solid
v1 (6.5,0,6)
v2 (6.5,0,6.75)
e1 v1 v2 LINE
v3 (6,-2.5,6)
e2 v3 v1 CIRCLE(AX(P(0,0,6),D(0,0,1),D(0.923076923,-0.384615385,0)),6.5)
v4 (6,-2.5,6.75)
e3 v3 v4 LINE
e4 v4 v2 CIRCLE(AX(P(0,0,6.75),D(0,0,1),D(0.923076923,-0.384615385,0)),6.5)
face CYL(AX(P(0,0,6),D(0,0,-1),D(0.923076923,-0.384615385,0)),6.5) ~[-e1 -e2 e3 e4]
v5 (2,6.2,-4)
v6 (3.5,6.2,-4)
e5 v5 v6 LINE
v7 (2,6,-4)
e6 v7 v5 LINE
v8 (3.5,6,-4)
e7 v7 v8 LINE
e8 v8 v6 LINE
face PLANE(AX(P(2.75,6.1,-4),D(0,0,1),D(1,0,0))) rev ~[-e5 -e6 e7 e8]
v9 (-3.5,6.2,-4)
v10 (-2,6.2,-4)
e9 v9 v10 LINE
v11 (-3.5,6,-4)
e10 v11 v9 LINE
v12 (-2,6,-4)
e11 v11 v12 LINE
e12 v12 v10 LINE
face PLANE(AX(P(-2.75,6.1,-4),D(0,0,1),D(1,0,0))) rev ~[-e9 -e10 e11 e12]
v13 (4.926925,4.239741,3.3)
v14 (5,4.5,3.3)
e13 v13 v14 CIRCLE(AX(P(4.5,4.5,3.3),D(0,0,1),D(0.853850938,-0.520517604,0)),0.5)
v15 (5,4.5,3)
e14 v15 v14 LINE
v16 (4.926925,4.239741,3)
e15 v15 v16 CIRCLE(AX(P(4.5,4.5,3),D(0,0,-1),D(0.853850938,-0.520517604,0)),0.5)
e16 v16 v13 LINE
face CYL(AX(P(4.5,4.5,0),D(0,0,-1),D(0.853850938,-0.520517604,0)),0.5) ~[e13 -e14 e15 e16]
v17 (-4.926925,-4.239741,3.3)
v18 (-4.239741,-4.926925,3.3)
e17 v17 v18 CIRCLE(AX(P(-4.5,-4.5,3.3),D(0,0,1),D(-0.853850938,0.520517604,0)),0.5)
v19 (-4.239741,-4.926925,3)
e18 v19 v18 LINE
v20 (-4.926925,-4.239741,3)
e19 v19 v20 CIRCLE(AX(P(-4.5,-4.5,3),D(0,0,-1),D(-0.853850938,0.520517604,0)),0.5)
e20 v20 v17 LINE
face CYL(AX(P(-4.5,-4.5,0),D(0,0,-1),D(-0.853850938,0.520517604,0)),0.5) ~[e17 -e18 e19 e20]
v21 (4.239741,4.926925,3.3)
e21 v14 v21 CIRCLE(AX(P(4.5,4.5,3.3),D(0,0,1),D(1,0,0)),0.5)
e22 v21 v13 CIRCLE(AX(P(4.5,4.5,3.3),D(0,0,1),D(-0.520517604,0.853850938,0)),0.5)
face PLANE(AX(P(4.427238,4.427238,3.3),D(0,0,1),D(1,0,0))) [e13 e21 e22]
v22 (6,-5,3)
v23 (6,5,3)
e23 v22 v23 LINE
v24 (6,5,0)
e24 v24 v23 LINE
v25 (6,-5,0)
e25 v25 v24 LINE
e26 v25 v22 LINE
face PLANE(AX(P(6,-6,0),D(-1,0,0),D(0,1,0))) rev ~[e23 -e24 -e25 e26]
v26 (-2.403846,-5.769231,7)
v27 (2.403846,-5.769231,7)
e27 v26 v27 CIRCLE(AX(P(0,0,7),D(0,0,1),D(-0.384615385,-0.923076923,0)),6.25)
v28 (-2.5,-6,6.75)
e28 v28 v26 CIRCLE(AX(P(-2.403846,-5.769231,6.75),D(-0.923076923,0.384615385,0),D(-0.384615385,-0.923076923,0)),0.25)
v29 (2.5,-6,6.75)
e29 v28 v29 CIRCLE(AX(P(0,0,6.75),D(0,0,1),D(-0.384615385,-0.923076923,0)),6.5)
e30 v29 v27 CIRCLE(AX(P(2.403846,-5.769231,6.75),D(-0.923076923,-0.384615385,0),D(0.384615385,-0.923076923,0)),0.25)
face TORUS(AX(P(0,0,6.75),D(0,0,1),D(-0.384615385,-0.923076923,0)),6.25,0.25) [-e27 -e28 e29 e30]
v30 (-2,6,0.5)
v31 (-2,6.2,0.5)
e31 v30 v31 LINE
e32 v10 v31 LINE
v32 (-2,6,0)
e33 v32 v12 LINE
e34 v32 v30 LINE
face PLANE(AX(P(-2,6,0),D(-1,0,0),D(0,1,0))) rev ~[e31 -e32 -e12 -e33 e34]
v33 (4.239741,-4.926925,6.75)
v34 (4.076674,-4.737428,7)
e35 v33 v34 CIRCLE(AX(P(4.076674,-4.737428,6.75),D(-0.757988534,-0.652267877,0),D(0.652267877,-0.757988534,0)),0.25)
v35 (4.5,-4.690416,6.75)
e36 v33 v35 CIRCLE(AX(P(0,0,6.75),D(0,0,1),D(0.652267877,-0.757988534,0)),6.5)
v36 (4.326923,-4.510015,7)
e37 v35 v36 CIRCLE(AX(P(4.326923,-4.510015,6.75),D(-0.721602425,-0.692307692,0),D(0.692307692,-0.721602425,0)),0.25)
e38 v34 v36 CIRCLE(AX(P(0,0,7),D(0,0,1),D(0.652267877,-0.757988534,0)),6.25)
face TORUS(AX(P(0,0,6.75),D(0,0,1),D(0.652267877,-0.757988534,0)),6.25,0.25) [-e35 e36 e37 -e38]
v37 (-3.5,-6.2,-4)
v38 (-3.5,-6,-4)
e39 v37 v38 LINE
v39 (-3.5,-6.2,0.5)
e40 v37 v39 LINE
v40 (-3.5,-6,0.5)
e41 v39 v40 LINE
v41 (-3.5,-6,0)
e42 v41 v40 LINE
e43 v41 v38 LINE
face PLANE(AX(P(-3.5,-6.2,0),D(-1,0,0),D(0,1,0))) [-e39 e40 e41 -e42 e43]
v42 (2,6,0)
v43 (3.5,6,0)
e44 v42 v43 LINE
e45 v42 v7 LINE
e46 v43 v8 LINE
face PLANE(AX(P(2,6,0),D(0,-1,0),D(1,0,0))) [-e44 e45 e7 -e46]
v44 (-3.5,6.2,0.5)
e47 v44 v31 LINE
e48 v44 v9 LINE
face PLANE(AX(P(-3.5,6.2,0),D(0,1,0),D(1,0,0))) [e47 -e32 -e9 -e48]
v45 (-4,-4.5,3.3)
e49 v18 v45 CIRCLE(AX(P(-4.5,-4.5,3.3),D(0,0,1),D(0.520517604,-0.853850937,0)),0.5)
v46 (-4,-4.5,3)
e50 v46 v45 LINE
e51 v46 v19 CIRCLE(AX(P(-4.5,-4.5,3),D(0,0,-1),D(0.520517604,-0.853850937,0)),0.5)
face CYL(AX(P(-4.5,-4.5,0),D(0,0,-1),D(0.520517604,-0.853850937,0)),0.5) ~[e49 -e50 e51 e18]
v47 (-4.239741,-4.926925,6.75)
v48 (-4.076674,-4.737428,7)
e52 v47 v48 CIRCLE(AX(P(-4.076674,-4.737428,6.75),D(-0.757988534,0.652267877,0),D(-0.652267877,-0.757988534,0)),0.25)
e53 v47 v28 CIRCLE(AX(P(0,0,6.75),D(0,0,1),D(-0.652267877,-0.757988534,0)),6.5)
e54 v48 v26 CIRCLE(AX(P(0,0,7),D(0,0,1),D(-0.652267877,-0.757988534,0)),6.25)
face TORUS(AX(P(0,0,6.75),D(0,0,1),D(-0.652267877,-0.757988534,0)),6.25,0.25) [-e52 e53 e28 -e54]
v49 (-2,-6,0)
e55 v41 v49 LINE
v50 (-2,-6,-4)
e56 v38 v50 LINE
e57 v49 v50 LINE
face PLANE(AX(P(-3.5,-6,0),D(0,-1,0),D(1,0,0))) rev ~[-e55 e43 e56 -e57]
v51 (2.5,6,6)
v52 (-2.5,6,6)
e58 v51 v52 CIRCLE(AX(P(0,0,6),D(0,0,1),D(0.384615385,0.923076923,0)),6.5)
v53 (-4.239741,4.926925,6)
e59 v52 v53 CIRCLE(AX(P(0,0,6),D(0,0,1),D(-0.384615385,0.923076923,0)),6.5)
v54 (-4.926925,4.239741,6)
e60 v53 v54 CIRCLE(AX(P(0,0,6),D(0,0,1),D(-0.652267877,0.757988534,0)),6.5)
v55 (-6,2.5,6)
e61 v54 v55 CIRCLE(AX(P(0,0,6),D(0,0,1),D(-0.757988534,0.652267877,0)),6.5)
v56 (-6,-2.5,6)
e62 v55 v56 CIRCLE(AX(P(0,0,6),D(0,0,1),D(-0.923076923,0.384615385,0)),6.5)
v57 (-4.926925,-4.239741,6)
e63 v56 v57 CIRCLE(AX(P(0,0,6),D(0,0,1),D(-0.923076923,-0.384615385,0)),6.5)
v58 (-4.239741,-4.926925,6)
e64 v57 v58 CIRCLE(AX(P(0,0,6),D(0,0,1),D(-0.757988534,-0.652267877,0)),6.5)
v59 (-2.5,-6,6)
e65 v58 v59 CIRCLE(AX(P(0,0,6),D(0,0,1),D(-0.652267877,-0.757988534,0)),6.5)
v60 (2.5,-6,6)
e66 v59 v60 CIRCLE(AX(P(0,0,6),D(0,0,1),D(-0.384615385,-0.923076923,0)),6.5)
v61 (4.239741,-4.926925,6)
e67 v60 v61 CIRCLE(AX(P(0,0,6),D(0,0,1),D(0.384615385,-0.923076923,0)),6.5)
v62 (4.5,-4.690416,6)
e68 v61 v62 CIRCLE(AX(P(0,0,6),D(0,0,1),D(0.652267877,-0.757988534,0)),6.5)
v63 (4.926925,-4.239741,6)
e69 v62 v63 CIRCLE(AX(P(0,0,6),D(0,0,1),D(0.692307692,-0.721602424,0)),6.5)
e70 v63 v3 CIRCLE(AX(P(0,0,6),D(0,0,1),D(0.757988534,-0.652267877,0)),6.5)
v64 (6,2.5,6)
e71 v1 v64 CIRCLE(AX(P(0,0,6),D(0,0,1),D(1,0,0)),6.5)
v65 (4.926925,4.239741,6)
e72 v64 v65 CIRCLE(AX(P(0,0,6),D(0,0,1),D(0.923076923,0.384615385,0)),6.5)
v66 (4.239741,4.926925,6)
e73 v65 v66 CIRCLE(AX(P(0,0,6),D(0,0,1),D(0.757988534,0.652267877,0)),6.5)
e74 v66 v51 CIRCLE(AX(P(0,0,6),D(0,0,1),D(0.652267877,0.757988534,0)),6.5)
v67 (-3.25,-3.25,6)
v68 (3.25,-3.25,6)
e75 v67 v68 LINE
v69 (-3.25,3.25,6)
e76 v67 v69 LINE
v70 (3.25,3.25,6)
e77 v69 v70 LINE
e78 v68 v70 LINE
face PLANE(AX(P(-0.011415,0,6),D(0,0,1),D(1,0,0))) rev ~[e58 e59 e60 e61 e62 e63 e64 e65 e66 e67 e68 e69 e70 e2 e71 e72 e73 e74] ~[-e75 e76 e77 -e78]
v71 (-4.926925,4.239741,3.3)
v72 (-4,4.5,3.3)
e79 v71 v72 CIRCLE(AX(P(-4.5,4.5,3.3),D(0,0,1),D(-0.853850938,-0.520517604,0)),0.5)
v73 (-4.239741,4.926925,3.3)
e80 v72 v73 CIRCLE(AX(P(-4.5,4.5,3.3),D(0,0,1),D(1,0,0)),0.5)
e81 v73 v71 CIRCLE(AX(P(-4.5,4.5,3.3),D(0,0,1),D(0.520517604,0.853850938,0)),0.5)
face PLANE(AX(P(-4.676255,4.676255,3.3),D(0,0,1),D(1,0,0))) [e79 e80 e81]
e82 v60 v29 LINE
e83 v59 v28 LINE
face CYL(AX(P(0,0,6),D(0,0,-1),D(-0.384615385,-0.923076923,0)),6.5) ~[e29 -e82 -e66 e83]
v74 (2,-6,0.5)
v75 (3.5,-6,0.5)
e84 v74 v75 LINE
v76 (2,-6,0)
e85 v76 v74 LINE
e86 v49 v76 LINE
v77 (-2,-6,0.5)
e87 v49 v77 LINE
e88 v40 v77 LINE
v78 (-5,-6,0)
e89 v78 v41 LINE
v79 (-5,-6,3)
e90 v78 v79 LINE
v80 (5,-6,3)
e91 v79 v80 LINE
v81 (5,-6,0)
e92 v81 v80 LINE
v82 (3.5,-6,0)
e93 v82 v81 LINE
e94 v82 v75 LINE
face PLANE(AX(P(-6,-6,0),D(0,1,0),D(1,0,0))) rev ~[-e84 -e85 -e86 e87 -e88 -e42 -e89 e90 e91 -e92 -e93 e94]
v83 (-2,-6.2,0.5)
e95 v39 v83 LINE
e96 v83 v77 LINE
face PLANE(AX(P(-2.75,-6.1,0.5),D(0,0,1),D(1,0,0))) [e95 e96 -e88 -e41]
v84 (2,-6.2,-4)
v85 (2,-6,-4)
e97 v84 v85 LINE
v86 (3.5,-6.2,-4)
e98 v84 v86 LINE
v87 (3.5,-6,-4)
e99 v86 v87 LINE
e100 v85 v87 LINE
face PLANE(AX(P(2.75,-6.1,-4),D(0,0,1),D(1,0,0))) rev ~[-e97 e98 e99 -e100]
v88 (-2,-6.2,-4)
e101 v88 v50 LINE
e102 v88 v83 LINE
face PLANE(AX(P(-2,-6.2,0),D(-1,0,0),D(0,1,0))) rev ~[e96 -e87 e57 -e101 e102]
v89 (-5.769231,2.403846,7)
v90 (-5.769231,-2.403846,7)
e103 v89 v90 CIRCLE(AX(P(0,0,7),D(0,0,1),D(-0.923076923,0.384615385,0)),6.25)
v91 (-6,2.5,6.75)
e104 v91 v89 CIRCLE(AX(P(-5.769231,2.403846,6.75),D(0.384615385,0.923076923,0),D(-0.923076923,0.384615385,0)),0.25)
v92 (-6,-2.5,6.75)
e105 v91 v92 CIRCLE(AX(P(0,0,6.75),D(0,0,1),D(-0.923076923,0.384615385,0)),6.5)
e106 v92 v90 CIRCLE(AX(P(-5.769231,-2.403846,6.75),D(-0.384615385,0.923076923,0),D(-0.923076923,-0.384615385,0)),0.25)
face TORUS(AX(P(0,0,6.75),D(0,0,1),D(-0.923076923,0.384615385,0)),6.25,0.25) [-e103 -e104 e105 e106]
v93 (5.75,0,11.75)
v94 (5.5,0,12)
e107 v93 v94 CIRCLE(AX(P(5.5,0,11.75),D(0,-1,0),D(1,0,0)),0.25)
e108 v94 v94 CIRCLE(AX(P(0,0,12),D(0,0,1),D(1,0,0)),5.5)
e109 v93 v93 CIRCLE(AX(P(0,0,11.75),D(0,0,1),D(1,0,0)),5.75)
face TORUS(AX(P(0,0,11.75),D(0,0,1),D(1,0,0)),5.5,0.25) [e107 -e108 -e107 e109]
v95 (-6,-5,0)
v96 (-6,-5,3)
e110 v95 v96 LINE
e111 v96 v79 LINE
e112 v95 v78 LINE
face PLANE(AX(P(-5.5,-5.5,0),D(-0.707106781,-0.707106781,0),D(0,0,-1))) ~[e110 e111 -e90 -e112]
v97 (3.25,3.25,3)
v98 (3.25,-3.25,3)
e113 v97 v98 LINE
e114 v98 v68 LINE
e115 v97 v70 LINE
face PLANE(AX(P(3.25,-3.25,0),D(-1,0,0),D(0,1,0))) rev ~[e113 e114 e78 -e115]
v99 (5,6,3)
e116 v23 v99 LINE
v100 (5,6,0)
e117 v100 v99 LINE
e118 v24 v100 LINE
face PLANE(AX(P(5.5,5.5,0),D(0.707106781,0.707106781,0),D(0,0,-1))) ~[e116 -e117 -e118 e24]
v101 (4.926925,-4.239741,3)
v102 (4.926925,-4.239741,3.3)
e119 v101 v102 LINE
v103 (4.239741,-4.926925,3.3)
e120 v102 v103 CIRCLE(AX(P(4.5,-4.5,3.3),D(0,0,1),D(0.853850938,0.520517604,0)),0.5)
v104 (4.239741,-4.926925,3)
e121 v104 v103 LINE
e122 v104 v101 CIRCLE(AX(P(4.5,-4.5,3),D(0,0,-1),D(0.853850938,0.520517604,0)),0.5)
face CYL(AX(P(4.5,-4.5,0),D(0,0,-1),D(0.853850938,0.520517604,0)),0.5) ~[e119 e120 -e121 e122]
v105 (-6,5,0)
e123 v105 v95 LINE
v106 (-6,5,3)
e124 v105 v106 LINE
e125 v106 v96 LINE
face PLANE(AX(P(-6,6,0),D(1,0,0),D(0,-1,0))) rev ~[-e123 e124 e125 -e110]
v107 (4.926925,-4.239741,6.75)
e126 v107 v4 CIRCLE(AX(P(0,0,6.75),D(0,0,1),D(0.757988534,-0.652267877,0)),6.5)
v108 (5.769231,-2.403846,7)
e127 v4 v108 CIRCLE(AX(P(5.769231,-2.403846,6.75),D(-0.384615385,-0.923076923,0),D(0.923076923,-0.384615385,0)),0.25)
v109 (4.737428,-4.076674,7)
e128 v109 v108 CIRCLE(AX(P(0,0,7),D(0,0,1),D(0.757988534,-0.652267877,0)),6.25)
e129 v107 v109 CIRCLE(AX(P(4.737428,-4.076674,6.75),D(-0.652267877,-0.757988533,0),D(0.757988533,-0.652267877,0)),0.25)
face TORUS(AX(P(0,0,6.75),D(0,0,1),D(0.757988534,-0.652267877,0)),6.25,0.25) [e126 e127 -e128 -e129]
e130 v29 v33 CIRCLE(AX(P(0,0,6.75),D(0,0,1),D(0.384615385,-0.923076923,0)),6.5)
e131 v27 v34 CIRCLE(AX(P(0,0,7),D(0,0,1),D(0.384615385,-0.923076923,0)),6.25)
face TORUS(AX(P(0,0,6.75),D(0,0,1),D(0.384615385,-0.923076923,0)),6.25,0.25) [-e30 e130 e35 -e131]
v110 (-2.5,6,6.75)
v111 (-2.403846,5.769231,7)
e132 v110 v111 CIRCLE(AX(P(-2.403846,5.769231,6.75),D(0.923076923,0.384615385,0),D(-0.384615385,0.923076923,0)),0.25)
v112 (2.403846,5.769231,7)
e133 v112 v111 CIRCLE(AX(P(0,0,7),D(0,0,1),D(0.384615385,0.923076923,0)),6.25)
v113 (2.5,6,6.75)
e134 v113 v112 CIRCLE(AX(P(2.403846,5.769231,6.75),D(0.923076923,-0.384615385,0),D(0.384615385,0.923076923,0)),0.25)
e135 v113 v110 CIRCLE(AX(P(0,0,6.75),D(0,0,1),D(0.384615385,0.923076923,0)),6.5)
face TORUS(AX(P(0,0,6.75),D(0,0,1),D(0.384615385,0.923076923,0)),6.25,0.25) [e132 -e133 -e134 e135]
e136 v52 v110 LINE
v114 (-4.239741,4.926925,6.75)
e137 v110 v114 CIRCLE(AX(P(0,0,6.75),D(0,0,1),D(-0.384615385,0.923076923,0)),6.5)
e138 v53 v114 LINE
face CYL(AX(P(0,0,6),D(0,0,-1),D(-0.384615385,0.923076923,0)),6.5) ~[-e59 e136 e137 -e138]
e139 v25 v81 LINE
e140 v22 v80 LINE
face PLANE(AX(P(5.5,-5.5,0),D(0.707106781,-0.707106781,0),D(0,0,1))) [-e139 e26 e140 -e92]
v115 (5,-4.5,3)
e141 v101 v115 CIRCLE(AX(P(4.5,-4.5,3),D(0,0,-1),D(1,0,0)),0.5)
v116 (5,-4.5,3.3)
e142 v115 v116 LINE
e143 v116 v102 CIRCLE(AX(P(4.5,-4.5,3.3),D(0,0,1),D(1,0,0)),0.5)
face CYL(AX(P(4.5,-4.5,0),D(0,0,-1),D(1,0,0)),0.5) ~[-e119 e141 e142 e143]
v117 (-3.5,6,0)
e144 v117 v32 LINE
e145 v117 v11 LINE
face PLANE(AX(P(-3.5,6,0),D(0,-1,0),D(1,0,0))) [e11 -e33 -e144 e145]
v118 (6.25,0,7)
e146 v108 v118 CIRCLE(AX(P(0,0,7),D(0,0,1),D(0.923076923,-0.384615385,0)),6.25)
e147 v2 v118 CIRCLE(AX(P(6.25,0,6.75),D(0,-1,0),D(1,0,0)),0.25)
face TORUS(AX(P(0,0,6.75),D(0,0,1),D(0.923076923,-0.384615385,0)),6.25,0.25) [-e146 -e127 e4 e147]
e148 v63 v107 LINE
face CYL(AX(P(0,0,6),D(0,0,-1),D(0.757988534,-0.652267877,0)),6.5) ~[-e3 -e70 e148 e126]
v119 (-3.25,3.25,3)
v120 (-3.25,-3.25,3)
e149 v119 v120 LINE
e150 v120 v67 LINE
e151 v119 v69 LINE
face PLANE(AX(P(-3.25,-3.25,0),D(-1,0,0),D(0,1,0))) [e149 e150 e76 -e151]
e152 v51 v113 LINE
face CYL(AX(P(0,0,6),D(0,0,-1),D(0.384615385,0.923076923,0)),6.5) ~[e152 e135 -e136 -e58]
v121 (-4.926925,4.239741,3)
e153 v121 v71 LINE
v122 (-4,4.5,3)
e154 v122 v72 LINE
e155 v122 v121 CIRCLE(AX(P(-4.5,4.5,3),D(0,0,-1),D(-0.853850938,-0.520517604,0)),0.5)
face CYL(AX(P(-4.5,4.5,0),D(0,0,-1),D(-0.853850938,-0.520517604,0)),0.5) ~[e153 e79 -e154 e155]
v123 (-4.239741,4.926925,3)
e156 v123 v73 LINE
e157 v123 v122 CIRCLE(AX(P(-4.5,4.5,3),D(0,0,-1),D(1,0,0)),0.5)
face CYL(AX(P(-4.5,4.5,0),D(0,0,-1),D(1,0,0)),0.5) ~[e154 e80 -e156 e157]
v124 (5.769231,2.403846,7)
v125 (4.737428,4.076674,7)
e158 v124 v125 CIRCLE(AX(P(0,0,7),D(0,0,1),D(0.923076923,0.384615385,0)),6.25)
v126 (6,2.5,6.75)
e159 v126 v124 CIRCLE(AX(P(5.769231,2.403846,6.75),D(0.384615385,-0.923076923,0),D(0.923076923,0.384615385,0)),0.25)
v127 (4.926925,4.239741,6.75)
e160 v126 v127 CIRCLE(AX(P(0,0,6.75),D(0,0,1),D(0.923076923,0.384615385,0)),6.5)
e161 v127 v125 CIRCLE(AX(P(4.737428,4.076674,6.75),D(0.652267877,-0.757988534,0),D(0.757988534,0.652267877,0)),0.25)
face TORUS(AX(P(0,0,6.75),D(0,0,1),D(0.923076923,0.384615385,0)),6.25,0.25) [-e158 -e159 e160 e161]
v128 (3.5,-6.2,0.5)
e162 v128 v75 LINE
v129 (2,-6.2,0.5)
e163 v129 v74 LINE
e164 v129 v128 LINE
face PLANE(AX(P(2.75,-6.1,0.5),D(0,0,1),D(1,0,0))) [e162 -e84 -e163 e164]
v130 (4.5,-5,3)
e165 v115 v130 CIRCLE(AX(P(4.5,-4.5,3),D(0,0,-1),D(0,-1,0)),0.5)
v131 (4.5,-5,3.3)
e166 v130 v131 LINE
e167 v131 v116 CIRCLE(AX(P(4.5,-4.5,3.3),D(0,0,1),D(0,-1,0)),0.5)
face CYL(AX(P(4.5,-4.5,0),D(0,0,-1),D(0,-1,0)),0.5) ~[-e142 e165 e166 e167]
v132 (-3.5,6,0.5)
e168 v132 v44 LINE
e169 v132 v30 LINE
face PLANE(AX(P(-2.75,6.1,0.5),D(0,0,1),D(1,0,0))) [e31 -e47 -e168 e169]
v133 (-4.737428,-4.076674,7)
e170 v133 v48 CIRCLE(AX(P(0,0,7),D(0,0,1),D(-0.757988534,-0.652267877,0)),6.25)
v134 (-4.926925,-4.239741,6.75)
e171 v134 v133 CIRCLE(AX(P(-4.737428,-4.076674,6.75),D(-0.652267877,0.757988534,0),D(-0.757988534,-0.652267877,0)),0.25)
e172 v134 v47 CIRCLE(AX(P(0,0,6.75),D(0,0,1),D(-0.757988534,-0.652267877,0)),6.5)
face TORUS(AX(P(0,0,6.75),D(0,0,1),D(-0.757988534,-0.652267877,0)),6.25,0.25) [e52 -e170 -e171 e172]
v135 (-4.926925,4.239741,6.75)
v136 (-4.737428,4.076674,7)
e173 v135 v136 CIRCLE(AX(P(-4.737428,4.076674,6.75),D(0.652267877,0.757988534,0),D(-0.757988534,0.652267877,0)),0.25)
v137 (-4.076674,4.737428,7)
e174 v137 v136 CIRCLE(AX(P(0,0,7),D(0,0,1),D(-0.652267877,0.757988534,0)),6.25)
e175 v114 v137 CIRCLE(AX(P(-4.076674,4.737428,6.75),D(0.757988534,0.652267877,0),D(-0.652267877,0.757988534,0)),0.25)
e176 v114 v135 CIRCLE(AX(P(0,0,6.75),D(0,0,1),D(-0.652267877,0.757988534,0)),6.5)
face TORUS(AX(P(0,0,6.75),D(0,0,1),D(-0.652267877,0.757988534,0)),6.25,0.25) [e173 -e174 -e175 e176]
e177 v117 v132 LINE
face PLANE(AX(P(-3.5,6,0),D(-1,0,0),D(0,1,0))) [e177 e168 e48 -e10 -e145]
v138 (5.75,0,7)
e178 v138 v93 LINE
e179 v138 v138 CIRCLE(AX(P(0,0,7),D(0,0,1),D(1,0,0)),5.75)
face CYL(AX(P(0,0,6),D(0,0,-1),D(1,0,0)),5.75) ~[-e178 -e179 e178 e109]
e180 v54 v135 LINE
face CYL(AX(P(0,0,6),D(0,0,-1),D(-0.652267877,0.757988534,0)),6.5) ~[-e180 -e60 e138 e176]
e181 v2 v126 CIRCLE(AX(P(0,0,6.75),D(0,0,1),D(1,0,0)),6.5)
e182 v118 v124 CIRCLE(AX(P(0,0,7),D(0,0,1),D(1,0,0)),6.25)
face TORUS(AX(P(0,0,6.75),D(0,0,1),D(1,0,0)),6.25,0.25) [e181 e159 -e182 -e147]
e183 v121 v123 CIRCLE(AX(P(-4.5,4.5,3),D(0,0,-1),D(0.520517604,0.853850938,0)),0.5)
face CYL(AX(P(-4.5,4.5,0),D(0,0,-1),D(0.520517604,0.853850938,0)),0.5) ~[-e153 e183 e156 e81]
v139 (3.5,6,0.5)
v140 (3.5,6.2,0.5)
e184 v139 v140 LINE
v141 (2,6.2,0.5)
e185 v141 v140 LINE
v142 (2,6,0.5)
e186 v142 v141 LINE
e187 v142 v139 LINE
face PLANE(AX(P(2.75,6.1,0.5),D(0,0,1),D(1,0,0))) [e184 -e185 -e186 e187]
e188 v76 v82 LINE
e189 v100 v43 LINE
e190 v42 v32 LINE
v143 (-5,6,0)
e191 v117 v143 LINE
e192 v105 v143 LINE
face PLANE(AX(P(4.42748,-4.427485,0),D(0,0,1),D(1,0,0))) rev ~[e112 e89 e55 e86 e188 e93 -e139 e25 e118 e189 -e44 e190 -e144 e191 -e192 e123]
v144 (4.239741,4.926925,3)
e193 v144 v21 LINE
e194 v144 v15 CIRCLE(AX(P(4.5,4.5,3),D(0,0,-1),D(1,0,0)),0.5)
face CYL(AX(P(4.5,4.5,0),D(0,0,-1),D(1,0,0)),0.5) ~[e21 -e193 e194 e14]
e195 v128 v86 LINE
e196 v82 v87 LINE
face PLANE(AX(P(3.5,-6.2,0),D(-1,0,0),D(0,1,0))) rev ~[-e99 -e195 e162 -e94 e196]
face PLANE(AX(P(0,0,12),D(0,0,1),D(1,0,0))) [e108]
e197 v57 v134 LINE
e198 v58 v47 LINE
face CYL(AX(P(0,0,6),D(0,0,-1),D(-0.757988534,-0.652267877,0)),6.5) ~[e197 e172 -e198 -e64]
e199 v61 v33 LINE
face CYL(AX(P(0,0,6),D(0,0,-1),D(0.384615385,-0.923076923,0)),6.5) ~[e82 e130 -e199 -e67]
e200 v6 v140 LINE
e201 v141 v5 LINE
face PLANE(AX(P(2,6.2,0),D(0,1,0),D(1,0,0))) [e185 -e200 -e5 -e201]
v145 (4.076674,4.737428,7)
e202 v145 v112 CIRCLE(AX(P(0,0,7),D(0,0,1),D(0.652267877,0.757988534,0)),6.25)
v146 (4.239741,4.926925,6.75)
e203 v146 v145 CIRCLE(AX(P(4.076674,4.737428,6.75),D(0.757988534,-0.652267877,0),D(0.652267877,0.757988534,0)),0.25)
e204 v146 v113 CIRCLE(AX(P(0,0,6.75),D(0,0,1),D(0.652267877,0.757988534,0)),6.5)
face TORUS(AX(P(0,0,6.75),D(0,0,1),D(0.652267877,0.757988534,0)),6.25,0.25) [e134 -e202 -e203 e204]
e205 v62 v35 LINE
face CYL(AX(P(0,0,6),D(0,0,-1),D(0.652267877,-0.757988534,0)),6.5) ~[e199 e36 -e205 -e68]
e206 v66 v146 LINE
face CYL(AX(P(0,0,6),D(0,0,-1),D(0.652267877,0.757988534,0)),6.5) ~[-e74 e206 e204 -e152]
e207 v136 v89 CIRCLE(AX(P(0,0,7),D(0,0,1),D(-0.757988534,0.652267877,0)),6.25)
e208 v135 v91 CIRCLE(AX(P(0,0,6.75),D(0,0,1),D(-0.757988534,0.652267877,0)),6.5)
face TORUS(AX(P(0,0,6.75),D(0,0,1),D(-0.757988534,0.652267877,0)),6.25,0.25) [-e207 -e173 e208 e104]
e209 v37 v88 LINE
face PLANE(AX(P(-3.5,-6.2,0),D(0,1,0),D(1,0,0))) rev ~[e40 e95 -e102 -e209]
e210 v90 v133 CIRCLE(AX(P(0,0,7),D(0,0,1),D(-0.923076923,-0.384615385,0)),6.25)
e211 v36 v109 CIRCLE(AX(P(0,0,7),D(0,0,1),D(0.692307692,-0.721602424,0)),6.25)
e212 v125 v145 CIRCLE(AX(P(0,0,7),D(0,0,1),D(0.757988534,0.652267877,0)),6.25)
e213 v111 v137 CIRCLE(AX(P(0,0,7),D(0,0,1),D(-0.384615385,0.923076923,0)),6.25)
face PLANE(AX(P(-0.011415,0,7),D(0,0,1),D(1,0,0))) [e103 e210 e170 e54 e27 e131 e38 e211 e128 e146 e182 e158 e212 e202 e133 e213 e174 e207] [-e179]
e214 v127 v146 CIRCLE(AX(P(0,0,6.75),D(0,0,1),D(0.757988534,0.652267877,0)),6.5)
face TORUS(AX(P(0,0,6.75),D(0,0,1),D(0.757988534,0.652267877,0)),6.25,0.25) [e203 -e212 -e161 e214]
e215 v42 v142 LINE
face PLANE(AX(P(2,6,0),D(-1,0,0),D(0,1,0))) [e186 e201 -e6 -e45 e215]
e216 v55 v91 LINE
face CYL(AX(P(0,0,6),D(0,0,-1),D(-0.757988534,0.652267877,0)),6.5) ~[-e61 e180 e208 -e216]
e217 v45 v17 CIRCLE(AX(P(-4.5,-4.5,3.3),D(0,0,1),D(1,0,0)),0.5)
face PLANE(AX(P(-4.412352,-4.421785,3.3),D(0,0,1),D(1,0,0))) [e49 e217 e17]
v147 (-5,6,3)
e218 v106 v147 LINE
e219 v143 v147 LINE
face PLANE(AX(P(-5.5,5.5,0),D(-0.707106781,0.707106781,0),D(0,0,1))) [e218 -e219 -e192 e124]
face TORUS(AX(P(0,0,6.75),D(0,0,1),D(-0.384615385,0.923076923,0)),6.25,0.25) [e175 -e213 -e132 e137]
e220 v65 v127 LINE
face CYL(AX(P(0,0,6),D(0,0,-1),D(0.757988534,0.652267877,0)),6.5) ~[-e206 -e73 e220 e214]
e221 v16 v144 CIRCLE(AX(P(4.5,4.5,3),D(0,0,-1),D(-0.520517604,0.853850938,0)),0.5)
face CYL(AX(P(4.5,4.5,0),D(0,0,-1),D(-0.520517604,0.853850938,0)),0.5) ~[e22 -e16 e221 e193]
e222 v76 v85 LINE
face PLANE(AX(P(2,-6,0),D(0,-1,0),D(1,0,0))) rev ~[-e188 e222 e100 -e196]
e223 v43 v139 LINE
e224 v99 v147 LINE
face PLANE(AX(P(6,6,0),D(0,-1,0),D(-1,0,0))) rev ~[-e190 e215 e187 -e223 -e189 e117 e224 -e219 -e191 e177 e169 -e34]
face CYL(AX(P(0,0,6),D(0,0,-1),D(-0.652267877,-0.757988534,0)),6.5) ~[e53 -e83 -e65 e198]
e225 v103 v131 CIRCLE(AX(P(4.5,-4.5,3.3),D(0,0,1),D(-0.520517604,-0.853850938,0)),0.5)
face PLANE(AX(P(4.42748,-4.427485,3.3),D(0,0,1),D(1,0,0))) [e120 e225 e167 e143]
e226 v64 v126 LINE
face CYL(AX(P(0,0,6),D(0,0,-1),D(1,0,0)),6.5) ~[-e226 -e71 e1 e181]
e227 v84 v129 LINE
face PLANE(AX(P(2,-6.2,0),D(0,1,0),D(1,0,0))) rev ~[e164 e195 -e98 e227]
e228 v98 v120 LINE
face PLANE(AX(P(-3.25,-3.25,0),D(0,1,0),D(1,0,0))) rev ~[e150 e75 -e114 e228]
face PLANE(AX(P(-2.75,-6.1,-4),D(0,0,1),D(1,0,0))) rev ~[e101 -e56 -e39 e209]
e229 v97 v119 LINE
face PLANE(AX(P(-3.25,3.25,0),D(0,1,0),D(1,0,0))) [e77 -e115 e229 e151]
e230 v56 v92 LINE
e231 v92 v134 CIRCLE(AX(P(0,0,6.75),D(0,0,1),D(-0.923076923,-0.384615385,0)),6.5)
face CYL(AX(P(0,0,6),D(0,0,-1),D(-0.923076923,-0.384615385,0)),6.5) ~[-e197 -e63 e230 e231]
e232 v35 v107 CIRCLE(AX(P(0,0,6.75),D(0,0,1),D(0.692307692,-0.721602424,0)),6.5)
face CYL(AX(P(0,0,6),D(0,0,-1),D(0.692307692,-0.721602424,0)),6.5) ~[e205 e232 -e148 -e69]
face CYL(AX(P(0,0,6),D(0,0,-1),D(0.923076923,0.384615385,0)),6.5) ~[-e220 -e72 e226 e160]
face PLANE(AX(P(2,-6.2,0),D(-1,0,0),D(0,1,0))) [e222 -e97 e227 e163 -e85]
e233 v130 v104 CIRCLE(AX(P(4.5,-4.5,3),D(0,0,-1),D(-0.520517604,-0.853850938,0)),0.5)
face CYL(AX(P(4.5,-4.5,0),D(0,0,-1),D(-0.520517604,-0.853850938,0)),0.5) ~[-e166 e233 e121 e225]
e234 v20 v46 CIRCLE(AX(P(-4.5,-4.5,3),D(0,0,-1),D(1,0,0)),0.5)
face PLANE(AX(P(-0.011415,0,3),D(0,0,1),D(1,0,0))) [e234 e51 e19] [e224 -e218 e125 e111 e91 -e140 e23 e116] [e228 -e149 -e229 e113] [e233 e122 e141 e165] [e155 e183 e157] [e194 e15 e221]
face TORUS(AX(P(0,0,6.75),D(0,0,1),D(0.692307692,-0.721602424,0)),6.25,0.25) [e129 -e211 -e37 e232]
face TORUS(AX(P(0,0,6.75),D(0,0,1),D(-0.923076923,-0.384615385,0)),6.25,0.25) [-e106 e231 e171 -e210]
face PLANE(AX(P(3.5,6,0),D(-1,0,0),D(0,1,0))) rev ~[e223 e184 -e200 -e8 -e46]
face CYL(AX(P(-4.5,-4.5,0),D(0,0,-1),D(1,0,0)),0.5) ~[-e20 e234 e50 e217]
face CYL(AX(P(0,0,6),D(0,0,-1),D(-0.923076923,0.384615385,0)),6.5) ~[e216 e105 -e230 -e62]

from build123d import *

# Parameters (mm, degrees)
F0_R          = 5.75
F0_W          = 6.5
F0_H          = 6.5
F1_DEPTH      = 3
F2_DEPTH      = 6
F3_START      = 6
F3_DEPTH      = 6
F4_START      = 6
F4_DEPTH      = 1
F5_W          = 1.5
F5_H          = 0.2
F6_DEPTH      = 4
F6_DEPTH_BACK = 0.5
F7_SIZE       = 1
F8_DEPTH      = 3.3
F9_R          = 0.25


with BuildPart() as f1:
    # F0 (on Top) → F1 (new body)
    with BuildSketch(Plane.XY):
        with BuildLine():
            ThreePointArc((4.2397411979, 4.9269254688), (3.4123159424, 5.5322780036), (2.5, 6))
            Line((2.5, 6), (-2.5, 6))
            ThreePointArc((-2.5, 6), (-3.4123159424, 5.5322780036), (-4.2397411979, 4.9269254688))
            ThreePointArc((-4.2397411979, 4.9269254688), (-4.0640358954, 4.7448168692), (-4, 4.5))
            ThreePointArc((-4, 4.5), (-4.3648384936, 4.0186151569), (-4.9269254688, 4.2397411979))
            ThreePointArc((-4.9269254688, 4.2397411979), (-5.5322780036, 3.4123159424), (-6, 2.5))
            Line((-6, 2.5), (-6, -2.5))
            ThreePointArc((-6, -2.5), (-5.5322780036, -3.4123159424), (-4.9269254688, -4.2397411979))
            ThreePointArc((-4.9269254688, -4.2397411979), (-4.3648384936, -4.0186151569), (-4, -4.5))
            ThreePointArc((-4, -4.5), (-4.0640358954, -4.7448168692), (-4.2397411979, -4.9269254688))
            ThreePointArc((-4.2397411979, -4.9269254688), (-3.4123159424, -5.5322780036), (-2.5, -6))
            Line((-2.5, -6), (2.5, -6))
            ThreePointArc((2.5, -6), (3.4123159424, -5.5322780036), (4.2397411979, -4.9269254688))
            ThreePointArc((4.2397411979, -4.9269254688), (4.1464466094, -4.1464466094), (4.9269254688, -4.2397411979))
            ThreePointArc((4.9269254688, -4.2397411979), (5.5322780036, -3.4123159424), (6, -2.5))
            Line((6, -2.5), (6, 2.5))
            ThreePointArc((6, 2.5), (5.5322780036, 3.4123159424), (4.9269254688, 4.2397411979))
            ThreePointArc((4.9269254688, 4.2397411979), (4.1464466094, 4.1464466094), (4.2397411979, 4.9269254688))
        make_face()
        Circle(F0_R, mode=Mode.SUBTRACT)
        Circle(F0_R)
        Rectangle(F0_W, F0_H, mode=Mode.SUBTRACT)
        Rectangle(F0_W, F0_H)
        with BuildLine():
            ThreePointArc((-4.2397411979, 4.9269254688), (-3.4123159424, 5.5322780036), (-2.5, 6))
            Line((-2.5, 6), (-6, 6))
            Line((-6, 6), (-6, 2.5))
            ThreePointArc((-6, 2.5), (-5.5322780036, 3.4123159424), (-4.9269254688, 4.2397411979))
            ThreePointArc((-4.9269254688, 4.2397411979), (-4.8535533906, 4.8535533906), (-4.2397411979, 4.9269254688))
        make_face()
        with BuildLine():
            Line((6, 2.5), (6, 6))
            Line((6, 6), (2.5, 6))
            ThreePointArc((2.5, 6), (3.4123159424, 5.5322780036), (4.2397411979, 4.9269254688))
            ThreePointArc((4.2397411979, 4.9269254688), (4.7448168692, 4.9359641046), (5, 4.5))
            ThreePointArc((5, 4.5), (4.9813848431, 4.3648384936), (4.9269254688, 4.2397411979))
            ThreePointArc((4.9269254688, 4.2397411979), (5.5322780036, 3.4123159424), (6, 2.5))
        make_face()
        with BuildLine():
            ThreePointArc((-4.9269254688, -4.2397411979), (-5.5322780036, -3.4123159424), (-6, -2.5))
            Line((-6, -2.5), (-6, -6))
            Line((-6, -6), (-2.5, -6))
            ThreePointArc((-2.5, -6), (-3.4123159424, -5.5322780036), (-4.2397411979, -4.9269254688))
            ThreePointArc((-4.2397411979, -4.9269254688), (-4.8535533906, -4.8535533906), (-4.9269254688, -4.2397411979))
        make_face()
        with BuildLine():
            Line((6, -6), (6, -2.5))
            ThreePointArc((6, -2.5), (5.5322780036, -3.4123159424), (4.9269254688, -4.2397411979))
            ThreePointArc((4.9269254688, -4.2397411979), (4.9813848431, -4.3648384936), (5, -4.5))
            ThreePointArc((5, -4.5), (4.8535533906, -4.8535533906), (4.5, -5))
            Line((4.5, -5), (4.5, -6))
            Line((4.5, -6), (6, -6))
        make_face()
        with BuildLine():
            Line((2.5, -6), (4.5, -6))
            Line((4.5, -6), (4.5, -5))
            ThreePointArc((4.5, -5), (4.3648384936, -4.9813848431), (4.2397411979, -4.9269254688))
            ThreePointArc((4.2397411979, -4.9269254688), (3.4123159424, -5.5322780036), (2.5, -6))
        make_face()
        with BuildLine():
            ThreePointArc((4.9269254688, 4.2397411979), (4.5961940777, 4.5961940777), (4.2397411979, 4.9269254688))
            ThreePointArc((4.2397411979, 4.9269254688), (4.1464466094, 4.1464466094), (4.9269254688, 4.2397411979))
        make_face()
        with BuildLine():
            ThreePointArc((-4, 4.5), (-4.0640358954, 4.7448168692), (-4.2397411979, 4.9269254688))
            ThreePointArc((-4.2397411979, 4.9269254688), (-4.5961940777, 4.5961940777), (-4.9269254688, 4.2397411979))
            ThreePointArc((-4.9269254688, 4.2397411979), (-4.3648384936, 4.0186151569), (-4, 4.5))
        make_face()
        with BuildLine():
            ThreePointArc((-4, -4.5), (-4.3648384936, -4.0186151569), (-4.9269254688, -4.2397411979))
            ThreePointArc((-4.9269254688, -4.2397411979), (-4.5961940777, -4.5961940777), (-4.2397411979, -4.9269254688))
            ThreePointArc((-4.2397411979, -4.9269254688), (-4.0640358954, -4.7448168692), (-4, -4.5))
        make_face()
        with BuildLine():
            ThreePointArc((4.5, -4.6904157598), (4.7188460283, -4.4701780905), (4.9269254688, -4.2397411979))
            ThreePointArc((4.9269254688, -4.2397411979), (4.1464466094, -4.1464466094), (4.2397411979, -4.9269254688))
            ThreePointArc((4.2397411979, -4.9269254688), (4.3714703776, -4.8104310345), (4.5, -4.6904157598))
        make_face()
        with BuildLine():
            ThreePointArc((5, 4.5), (4.7448168692, 4.9359641046), (4.2397411979, 4.9269254688))
            ThreePointArc((4.2397411979, 4.9269254688), (4.5961940777, 4.5961940777), (4.9269254688, 4.2397411979))
            ThreePointArc((4.9269254688, 4.2397411979), (4.9813848431, 4.3648384936), (5, 4.5))
        make_face()
        with BuildLine():
            ThreePointArc((-4.9269254688, 4.2397411979), (-4.5961940777, 4.5961940777), (-4.2397411979, 4.9269254688))
            ThreePointArc((-4.2397411979, 4.9269254688), (-4.8535533906, 4.8535533906), (-4.9269254688, 4.2397411979))
        make_face()
        with BuildLine():
            ThreePointArc((-4.2397411979, -4.9269254688), (-4.5961940777, -4.5961940777), (-4.9269254688, -4.2397411979))
            ThreePointArc((-4.9269254688, -4.2397411979), (-4.8535533906, -4.8535533906), (-4.2397411979, -4.9269254688))
        make_face()
        with BuildLine():
            ThreePointArc((5, -4.5), (4.9813848431, -4.3648384936), (4.9269254688, -4.2397411979))
            ThreePointArc((4.9269254688, -4.2397411979), (4.7188460283, -4.4701780905), (4.5, -4.6904157598))
            Line((4.5, -4.6904157598), (4.5, -5))
            ThreePointArc((4.5, -5), (4.8535533906, -4.8535533906), (5, -4.5))
        make_face()
        with BuildLine():
            Line((4.5, -5), (4.5, -4.6904157598))
            ThreePointArc((4.5, -4.6904157598), (4.3714703776, -4.8104310345), (4.2397411979, -4.9269254688))
            ThreePointArc((4.2397411979, -4.9269254688), (4.3648384936, -4.9813848431), (4.5, -5))
        make_face()
    extrude(amount=F1_DEPTH)

    # F0 (on Top) → F2 (join)
    with BuildSketch(Plane.XY):
        Rectangle(F0_W, F0_H)
    extrude(amount=F2_DEPTH)

    # F0 (on Top) → F3 (join)
    with BuildSketch(Plane.XY.offset(F3_START)):
        Circle(F0_R)
        Rectangle(F0_W, F0_H, mode=Mode.SUBTRACT)
        Rectangle(F0_W, F0_H)
    extrude(amount=F3_DEPTH)

    # F0 (on Top) → F4 (join)
    with BuildSketch(Plane.XY.offset(F4_START)):
        with BuildLine():
            ThreePointArc((4.2397411979, 4.9269254688), (3.4123159424, 5.5322780036), (2.5, 6))
            Line((2.5, 6), (-2.5, 6))
            ThreePointArc((-2.5, 6), (-3.4123159424, 5.5322780036), (-4.2397411979, 4.9269254688))
            ThreePointArc((-4.2397411979, 4.9269254688), (-4.0640358954, 4.7448168692), (-4, 4.5))
            ThreePointArc((-4, 4.5), (-4.3648384936, 4.0186151569), (-4.9269254688, 4.2397411979))
            ThreePointArc((-4.9269254688, 4.2397411979), (-5.5322780036, 3.4123159424), (-6, 2.5))
            Line((-6, 2.5), (-6, -2.5))
            ThreePointArc((-6, -2.5), (-5.5322780036, -3.4123159424), (-4.9269254688, -4.2397411979))
            ThreePointArc((-4.9269254688, -4.2397411979), (-4.3648384936, -4.0186151569), (-4, -4.5))
            ThreePointArc((-4, -4.5), (-4.0640358954, -4.7448168692), (-4.2397411979, -4.9269254688))
            ThreePointArc((-4.2397411979, -4.9269254688), (-3.4123159424, -5.5322780036), (-2.5, -6))
            Line((-2.5, -6), (2.5, -6))
            ThreePointArc((2.5, -6), (3.4123159424, -5.5322780036), (4.2397411979, -4.9269254688))
            ThreePointArc((4.2397411979, -4.9269254688), (4.1464466094, -4.1464466094), (4.9269254688, -4.2397411979))
            ThreePointArc((4.9269254688, -4.2397411979), (5.5322780036, -3.4123159424), (6, -2.5))
            Line((6, -2.5), (6, 2.5))
            ThreePointArc((6, 2.5), (5.5322780036, 3.4123159424), (4.9269254688, 4.2397411979))
            ThreePointArc((4.9269254688, 4.2397411979), (4.1464466094, 4.1464466094), (4.2397411979, 4.9269254688))
        make_face()
        Circle(F0_R, mode=Mode.SUBTRACT)
        with BuildLine():
            Line((-2.5, 6), (2.5, 6))
            ThreePointArc((2.5, 6), (0, 6.5), (-2.5, 6))
        make_face()
        with BuildLine():
            ThreePointArc((6.5, 0), (6.373774392, 1.2747548784), (6, 2.5))
            Line((6, 2.5), (6, -2.5))
            ThreePointArc((6, -2.5), (6.373774392, -1.2747548784), (6.5, 0))
        make_face()
        with BuildLine():
            ThreePointArc((-2.5, -6), (0, -6.5), (2.5, -6))
            Line((2.5, -6), (-2.5, -6))
        make_face()
        with BuildLine():
            Line((-6, -2.5), (-6, 2.5))
            ThreePointArc((-6, 2.5), (-6.5, 0), (-6, -2.5))
        make_face()
        with BuildLine():
            ThreePointArc((4.5, -4.6904157598), (4.7188460283, -4.4701780905), (4.9269254688, -4.2397411979))
            ThreePointArc((4.9269254688, -4.2397411979), (4.1464466094, -4.1464466094), (4.2397411979, -4.9269254688))
            ThreePointArc((4.2397411979, -4.9269254688), (4.3714703776, -4.8104310345), (4.5, -4.6904157598))
        make_face()
        with BuildLine():
            ThreePointArc((-4, -4.5), (-4.3648384936, -4.0186151569), (-4.9269254688, -4.2397411979))
            ThreePointArc((-4.9269254688, -4.2397411979), (-4.5961940777, -4.5961940777), (-4.2397411979, -4.9269254688))
            ThreePointArc((-4.2397411979, -4.9269254688), (-4.0640358954, -4.7448168692), (-4, -4.5))
        make_face()
        with BuildLine():
            ThreePointArc((-4, 4.5), (-4.0640358954, 4.7448168692), (-4.2397411979, 4.9269254688))
            ThreePointArc((-4.2397411979, 4.9269254688), (-4.5961940777, 4.5961940777), (-4.9269254688, 4.2397411979))
            ThreePointArc((-4.9269254688, 4.2397411979), (-4.3648384936, 4.0186151569), (-4, 4.5))
        make_face()
        with BuildLine():
            ThreePointArc((4.9269254688, 4.2397411979), (4.5961940777, 4.5961940777), (4.2397411979, 4.9269254688))
            ThreePointArc((4.2397411979, 4.9269254688), (4.1464466094, 4.1464466094), (4.9269254688, 4.2397411979))
        make_face()
    extrude(amount=F4_DEPTH)

    # F5 (on Top) → F6 (join, two sides)
    with BuildSketch(Plane.XY) as f6_sk:
        with Locations((-2.75, -6.1)):
            Rectangle(F5_W, F5_H)
        with Locations((2.75, -6.1)):
            Rectangle(F5_W, F5_H)
        with Locations((2.75, 6.1)):
            Rectangle(F5_W, F5_H)
        with Locations((-2.75, 6.1)):
            Rectangle(F5_W, F5_H)
    extrude(amount=-F6_DEPTH)
    extrude(f6_sk.sketch, amount=F6_DEPTH_BACK)

    # F7
    f7_edges = [f1.edges().sort_by_distance(p)[0] for p in [
        (-6, -6, 1.5),
        (6, -6, 1.5),
        (6, 6, 1.5),
        (-6, 6, 1.5),
    ]]
    chamfer(f7_edges, length=F7_SIZE)

    # F0 (on Top) → F8 (join)
    with BuildSketch(Plane.XY):
        with BuildLine():
            ThreePointArc((4.5, -4.6904157598), (4.7188460283, -4.4701780905), (4.9269254688, -4.2397411979))
            ThreePointArc((4.9269254688, -4.2397411979), (4.1464466094, -4.1464466094), (4.2397411979, -4.9269254688))
            ThreePointArc((4.2397411979, -4.9269254688), (4.3714703776, -4.8104310345), (4.5, -4.6904157598))
        make_face()
        with BuildLine():
            ThreePointArc((5, -4.5), (4.9813848431, -4.3648384936), (4.9269254688, -4.2397411979))
            ThreePointArc((4.9269254688, -4.2397411979), (4.7188460283, -4.4701780905), (4.5, -4.6904157598))
            Line((4.5, -4.6904157598), (4.5, -5))
            ThreePointArc((4.5, -5), (4.8535533906, -4.8535533906), (5, -4.5))
        make_face()
        with BuildLine():
            Line((4.5, -5), (4.5, -4.6904157598))
            ThreePointArc((4.5, -4.6904157598), (4.3714703776, -4.8104310345), (4.2397411979, -4.9269254688))
            ThreePointArc((4.2397411979, -4.9269254688), (4.3648384936, -4.9813848431), (4.5, -5))
        make_face()
        with BuildLine():
            ThreePointArc((4.9269254688, 4.2397411979), (4.5961940777, 4.5961940777), (4.2397411979, 4.9269254688))
            ThreePointArc((4.2397411979, 4.9269254688), (4.1464466094, 4.1464466094), (4.9269254688, 4.2397411979))
        make_face()
        with BuildLine():
            ThreePointArc((5, 4.5), (4.7448168692, 4.9359641046), (4.2397411979, 4.9269254688))
            ThreePointArc((4.2397411979, 4.9269254688), (4.5961940777, 4.5961940777), (4.9269254688, 4.2397411979))
            ThreePointArc((4.9269254688, 4.2397411979), (4.9813848431, 4.3648384936), (5, 4.5))
        make_face()
        with BuildLine():
            ThreePointArc((-4.9269254688, 4.2397411979), (-4.5961940777, 4.5961940777), (-4.2397411979, 4.9269254688))
            ThreePointArc((-4.2397411979, 4.9269254688), (-4.8535533906, 4.8535533906), (-4.9269254688, 4.2397411979))
        make_face()
        with BuildLine():
            ThreePointArc((-4, 4.5), (-4.0640358954, 4.7448168692), (-4.2397411979, 4.9269254688))
            ThreePointArc((-4.2397411979, 4.9269254688), (-4.5961940777, 4.5961940777), (-4.9269254688, 4.2397411979))
            ThreePointArc((-4.9269254688, 4.2397411979), (-4.3648384936, 4.0186151569), (-4, 4.5))
        make_face()
        with BuildLine():
            ThreePointArc((-4, -4.5), (-4.3648384936, -4.0186151569), (-4.9269254688, -4.2397411979))
            ThreePointArc((-4.9269254688, -4.2397411979), (-4.5961940777, -4.5961940777), (-4.2397411979, -4.9269254688))
            ThreePointArc((-4.2397411979, -4.9269254688), (-4.0640358954, -4.7448168692), (-4, -4.5))
        make_face()
        with BuildLine():
            ThreePointArc((-4.2397411979, -4.9269254688), (-4.5961940777, -4.5961940777), (-4.9269254688, -4.2397411979))
            ThreePointArc((-4.9269254688, -4.2397411979), (-4.8535533906, -4.8535533906), (-4.2397411979, -4.9269254688))
        make_face()
    extrude(amount=F8_DEPTH)

    # F9
    f9_edges = [f1.edges().sort_by_distance(p)[0] for p in [
        (-5.75, 0, 12),
        (-4.926925, -4.239741, 7),
    ]]
    fillet(f9_edges, radius=F9_R)


solid = f1.part
